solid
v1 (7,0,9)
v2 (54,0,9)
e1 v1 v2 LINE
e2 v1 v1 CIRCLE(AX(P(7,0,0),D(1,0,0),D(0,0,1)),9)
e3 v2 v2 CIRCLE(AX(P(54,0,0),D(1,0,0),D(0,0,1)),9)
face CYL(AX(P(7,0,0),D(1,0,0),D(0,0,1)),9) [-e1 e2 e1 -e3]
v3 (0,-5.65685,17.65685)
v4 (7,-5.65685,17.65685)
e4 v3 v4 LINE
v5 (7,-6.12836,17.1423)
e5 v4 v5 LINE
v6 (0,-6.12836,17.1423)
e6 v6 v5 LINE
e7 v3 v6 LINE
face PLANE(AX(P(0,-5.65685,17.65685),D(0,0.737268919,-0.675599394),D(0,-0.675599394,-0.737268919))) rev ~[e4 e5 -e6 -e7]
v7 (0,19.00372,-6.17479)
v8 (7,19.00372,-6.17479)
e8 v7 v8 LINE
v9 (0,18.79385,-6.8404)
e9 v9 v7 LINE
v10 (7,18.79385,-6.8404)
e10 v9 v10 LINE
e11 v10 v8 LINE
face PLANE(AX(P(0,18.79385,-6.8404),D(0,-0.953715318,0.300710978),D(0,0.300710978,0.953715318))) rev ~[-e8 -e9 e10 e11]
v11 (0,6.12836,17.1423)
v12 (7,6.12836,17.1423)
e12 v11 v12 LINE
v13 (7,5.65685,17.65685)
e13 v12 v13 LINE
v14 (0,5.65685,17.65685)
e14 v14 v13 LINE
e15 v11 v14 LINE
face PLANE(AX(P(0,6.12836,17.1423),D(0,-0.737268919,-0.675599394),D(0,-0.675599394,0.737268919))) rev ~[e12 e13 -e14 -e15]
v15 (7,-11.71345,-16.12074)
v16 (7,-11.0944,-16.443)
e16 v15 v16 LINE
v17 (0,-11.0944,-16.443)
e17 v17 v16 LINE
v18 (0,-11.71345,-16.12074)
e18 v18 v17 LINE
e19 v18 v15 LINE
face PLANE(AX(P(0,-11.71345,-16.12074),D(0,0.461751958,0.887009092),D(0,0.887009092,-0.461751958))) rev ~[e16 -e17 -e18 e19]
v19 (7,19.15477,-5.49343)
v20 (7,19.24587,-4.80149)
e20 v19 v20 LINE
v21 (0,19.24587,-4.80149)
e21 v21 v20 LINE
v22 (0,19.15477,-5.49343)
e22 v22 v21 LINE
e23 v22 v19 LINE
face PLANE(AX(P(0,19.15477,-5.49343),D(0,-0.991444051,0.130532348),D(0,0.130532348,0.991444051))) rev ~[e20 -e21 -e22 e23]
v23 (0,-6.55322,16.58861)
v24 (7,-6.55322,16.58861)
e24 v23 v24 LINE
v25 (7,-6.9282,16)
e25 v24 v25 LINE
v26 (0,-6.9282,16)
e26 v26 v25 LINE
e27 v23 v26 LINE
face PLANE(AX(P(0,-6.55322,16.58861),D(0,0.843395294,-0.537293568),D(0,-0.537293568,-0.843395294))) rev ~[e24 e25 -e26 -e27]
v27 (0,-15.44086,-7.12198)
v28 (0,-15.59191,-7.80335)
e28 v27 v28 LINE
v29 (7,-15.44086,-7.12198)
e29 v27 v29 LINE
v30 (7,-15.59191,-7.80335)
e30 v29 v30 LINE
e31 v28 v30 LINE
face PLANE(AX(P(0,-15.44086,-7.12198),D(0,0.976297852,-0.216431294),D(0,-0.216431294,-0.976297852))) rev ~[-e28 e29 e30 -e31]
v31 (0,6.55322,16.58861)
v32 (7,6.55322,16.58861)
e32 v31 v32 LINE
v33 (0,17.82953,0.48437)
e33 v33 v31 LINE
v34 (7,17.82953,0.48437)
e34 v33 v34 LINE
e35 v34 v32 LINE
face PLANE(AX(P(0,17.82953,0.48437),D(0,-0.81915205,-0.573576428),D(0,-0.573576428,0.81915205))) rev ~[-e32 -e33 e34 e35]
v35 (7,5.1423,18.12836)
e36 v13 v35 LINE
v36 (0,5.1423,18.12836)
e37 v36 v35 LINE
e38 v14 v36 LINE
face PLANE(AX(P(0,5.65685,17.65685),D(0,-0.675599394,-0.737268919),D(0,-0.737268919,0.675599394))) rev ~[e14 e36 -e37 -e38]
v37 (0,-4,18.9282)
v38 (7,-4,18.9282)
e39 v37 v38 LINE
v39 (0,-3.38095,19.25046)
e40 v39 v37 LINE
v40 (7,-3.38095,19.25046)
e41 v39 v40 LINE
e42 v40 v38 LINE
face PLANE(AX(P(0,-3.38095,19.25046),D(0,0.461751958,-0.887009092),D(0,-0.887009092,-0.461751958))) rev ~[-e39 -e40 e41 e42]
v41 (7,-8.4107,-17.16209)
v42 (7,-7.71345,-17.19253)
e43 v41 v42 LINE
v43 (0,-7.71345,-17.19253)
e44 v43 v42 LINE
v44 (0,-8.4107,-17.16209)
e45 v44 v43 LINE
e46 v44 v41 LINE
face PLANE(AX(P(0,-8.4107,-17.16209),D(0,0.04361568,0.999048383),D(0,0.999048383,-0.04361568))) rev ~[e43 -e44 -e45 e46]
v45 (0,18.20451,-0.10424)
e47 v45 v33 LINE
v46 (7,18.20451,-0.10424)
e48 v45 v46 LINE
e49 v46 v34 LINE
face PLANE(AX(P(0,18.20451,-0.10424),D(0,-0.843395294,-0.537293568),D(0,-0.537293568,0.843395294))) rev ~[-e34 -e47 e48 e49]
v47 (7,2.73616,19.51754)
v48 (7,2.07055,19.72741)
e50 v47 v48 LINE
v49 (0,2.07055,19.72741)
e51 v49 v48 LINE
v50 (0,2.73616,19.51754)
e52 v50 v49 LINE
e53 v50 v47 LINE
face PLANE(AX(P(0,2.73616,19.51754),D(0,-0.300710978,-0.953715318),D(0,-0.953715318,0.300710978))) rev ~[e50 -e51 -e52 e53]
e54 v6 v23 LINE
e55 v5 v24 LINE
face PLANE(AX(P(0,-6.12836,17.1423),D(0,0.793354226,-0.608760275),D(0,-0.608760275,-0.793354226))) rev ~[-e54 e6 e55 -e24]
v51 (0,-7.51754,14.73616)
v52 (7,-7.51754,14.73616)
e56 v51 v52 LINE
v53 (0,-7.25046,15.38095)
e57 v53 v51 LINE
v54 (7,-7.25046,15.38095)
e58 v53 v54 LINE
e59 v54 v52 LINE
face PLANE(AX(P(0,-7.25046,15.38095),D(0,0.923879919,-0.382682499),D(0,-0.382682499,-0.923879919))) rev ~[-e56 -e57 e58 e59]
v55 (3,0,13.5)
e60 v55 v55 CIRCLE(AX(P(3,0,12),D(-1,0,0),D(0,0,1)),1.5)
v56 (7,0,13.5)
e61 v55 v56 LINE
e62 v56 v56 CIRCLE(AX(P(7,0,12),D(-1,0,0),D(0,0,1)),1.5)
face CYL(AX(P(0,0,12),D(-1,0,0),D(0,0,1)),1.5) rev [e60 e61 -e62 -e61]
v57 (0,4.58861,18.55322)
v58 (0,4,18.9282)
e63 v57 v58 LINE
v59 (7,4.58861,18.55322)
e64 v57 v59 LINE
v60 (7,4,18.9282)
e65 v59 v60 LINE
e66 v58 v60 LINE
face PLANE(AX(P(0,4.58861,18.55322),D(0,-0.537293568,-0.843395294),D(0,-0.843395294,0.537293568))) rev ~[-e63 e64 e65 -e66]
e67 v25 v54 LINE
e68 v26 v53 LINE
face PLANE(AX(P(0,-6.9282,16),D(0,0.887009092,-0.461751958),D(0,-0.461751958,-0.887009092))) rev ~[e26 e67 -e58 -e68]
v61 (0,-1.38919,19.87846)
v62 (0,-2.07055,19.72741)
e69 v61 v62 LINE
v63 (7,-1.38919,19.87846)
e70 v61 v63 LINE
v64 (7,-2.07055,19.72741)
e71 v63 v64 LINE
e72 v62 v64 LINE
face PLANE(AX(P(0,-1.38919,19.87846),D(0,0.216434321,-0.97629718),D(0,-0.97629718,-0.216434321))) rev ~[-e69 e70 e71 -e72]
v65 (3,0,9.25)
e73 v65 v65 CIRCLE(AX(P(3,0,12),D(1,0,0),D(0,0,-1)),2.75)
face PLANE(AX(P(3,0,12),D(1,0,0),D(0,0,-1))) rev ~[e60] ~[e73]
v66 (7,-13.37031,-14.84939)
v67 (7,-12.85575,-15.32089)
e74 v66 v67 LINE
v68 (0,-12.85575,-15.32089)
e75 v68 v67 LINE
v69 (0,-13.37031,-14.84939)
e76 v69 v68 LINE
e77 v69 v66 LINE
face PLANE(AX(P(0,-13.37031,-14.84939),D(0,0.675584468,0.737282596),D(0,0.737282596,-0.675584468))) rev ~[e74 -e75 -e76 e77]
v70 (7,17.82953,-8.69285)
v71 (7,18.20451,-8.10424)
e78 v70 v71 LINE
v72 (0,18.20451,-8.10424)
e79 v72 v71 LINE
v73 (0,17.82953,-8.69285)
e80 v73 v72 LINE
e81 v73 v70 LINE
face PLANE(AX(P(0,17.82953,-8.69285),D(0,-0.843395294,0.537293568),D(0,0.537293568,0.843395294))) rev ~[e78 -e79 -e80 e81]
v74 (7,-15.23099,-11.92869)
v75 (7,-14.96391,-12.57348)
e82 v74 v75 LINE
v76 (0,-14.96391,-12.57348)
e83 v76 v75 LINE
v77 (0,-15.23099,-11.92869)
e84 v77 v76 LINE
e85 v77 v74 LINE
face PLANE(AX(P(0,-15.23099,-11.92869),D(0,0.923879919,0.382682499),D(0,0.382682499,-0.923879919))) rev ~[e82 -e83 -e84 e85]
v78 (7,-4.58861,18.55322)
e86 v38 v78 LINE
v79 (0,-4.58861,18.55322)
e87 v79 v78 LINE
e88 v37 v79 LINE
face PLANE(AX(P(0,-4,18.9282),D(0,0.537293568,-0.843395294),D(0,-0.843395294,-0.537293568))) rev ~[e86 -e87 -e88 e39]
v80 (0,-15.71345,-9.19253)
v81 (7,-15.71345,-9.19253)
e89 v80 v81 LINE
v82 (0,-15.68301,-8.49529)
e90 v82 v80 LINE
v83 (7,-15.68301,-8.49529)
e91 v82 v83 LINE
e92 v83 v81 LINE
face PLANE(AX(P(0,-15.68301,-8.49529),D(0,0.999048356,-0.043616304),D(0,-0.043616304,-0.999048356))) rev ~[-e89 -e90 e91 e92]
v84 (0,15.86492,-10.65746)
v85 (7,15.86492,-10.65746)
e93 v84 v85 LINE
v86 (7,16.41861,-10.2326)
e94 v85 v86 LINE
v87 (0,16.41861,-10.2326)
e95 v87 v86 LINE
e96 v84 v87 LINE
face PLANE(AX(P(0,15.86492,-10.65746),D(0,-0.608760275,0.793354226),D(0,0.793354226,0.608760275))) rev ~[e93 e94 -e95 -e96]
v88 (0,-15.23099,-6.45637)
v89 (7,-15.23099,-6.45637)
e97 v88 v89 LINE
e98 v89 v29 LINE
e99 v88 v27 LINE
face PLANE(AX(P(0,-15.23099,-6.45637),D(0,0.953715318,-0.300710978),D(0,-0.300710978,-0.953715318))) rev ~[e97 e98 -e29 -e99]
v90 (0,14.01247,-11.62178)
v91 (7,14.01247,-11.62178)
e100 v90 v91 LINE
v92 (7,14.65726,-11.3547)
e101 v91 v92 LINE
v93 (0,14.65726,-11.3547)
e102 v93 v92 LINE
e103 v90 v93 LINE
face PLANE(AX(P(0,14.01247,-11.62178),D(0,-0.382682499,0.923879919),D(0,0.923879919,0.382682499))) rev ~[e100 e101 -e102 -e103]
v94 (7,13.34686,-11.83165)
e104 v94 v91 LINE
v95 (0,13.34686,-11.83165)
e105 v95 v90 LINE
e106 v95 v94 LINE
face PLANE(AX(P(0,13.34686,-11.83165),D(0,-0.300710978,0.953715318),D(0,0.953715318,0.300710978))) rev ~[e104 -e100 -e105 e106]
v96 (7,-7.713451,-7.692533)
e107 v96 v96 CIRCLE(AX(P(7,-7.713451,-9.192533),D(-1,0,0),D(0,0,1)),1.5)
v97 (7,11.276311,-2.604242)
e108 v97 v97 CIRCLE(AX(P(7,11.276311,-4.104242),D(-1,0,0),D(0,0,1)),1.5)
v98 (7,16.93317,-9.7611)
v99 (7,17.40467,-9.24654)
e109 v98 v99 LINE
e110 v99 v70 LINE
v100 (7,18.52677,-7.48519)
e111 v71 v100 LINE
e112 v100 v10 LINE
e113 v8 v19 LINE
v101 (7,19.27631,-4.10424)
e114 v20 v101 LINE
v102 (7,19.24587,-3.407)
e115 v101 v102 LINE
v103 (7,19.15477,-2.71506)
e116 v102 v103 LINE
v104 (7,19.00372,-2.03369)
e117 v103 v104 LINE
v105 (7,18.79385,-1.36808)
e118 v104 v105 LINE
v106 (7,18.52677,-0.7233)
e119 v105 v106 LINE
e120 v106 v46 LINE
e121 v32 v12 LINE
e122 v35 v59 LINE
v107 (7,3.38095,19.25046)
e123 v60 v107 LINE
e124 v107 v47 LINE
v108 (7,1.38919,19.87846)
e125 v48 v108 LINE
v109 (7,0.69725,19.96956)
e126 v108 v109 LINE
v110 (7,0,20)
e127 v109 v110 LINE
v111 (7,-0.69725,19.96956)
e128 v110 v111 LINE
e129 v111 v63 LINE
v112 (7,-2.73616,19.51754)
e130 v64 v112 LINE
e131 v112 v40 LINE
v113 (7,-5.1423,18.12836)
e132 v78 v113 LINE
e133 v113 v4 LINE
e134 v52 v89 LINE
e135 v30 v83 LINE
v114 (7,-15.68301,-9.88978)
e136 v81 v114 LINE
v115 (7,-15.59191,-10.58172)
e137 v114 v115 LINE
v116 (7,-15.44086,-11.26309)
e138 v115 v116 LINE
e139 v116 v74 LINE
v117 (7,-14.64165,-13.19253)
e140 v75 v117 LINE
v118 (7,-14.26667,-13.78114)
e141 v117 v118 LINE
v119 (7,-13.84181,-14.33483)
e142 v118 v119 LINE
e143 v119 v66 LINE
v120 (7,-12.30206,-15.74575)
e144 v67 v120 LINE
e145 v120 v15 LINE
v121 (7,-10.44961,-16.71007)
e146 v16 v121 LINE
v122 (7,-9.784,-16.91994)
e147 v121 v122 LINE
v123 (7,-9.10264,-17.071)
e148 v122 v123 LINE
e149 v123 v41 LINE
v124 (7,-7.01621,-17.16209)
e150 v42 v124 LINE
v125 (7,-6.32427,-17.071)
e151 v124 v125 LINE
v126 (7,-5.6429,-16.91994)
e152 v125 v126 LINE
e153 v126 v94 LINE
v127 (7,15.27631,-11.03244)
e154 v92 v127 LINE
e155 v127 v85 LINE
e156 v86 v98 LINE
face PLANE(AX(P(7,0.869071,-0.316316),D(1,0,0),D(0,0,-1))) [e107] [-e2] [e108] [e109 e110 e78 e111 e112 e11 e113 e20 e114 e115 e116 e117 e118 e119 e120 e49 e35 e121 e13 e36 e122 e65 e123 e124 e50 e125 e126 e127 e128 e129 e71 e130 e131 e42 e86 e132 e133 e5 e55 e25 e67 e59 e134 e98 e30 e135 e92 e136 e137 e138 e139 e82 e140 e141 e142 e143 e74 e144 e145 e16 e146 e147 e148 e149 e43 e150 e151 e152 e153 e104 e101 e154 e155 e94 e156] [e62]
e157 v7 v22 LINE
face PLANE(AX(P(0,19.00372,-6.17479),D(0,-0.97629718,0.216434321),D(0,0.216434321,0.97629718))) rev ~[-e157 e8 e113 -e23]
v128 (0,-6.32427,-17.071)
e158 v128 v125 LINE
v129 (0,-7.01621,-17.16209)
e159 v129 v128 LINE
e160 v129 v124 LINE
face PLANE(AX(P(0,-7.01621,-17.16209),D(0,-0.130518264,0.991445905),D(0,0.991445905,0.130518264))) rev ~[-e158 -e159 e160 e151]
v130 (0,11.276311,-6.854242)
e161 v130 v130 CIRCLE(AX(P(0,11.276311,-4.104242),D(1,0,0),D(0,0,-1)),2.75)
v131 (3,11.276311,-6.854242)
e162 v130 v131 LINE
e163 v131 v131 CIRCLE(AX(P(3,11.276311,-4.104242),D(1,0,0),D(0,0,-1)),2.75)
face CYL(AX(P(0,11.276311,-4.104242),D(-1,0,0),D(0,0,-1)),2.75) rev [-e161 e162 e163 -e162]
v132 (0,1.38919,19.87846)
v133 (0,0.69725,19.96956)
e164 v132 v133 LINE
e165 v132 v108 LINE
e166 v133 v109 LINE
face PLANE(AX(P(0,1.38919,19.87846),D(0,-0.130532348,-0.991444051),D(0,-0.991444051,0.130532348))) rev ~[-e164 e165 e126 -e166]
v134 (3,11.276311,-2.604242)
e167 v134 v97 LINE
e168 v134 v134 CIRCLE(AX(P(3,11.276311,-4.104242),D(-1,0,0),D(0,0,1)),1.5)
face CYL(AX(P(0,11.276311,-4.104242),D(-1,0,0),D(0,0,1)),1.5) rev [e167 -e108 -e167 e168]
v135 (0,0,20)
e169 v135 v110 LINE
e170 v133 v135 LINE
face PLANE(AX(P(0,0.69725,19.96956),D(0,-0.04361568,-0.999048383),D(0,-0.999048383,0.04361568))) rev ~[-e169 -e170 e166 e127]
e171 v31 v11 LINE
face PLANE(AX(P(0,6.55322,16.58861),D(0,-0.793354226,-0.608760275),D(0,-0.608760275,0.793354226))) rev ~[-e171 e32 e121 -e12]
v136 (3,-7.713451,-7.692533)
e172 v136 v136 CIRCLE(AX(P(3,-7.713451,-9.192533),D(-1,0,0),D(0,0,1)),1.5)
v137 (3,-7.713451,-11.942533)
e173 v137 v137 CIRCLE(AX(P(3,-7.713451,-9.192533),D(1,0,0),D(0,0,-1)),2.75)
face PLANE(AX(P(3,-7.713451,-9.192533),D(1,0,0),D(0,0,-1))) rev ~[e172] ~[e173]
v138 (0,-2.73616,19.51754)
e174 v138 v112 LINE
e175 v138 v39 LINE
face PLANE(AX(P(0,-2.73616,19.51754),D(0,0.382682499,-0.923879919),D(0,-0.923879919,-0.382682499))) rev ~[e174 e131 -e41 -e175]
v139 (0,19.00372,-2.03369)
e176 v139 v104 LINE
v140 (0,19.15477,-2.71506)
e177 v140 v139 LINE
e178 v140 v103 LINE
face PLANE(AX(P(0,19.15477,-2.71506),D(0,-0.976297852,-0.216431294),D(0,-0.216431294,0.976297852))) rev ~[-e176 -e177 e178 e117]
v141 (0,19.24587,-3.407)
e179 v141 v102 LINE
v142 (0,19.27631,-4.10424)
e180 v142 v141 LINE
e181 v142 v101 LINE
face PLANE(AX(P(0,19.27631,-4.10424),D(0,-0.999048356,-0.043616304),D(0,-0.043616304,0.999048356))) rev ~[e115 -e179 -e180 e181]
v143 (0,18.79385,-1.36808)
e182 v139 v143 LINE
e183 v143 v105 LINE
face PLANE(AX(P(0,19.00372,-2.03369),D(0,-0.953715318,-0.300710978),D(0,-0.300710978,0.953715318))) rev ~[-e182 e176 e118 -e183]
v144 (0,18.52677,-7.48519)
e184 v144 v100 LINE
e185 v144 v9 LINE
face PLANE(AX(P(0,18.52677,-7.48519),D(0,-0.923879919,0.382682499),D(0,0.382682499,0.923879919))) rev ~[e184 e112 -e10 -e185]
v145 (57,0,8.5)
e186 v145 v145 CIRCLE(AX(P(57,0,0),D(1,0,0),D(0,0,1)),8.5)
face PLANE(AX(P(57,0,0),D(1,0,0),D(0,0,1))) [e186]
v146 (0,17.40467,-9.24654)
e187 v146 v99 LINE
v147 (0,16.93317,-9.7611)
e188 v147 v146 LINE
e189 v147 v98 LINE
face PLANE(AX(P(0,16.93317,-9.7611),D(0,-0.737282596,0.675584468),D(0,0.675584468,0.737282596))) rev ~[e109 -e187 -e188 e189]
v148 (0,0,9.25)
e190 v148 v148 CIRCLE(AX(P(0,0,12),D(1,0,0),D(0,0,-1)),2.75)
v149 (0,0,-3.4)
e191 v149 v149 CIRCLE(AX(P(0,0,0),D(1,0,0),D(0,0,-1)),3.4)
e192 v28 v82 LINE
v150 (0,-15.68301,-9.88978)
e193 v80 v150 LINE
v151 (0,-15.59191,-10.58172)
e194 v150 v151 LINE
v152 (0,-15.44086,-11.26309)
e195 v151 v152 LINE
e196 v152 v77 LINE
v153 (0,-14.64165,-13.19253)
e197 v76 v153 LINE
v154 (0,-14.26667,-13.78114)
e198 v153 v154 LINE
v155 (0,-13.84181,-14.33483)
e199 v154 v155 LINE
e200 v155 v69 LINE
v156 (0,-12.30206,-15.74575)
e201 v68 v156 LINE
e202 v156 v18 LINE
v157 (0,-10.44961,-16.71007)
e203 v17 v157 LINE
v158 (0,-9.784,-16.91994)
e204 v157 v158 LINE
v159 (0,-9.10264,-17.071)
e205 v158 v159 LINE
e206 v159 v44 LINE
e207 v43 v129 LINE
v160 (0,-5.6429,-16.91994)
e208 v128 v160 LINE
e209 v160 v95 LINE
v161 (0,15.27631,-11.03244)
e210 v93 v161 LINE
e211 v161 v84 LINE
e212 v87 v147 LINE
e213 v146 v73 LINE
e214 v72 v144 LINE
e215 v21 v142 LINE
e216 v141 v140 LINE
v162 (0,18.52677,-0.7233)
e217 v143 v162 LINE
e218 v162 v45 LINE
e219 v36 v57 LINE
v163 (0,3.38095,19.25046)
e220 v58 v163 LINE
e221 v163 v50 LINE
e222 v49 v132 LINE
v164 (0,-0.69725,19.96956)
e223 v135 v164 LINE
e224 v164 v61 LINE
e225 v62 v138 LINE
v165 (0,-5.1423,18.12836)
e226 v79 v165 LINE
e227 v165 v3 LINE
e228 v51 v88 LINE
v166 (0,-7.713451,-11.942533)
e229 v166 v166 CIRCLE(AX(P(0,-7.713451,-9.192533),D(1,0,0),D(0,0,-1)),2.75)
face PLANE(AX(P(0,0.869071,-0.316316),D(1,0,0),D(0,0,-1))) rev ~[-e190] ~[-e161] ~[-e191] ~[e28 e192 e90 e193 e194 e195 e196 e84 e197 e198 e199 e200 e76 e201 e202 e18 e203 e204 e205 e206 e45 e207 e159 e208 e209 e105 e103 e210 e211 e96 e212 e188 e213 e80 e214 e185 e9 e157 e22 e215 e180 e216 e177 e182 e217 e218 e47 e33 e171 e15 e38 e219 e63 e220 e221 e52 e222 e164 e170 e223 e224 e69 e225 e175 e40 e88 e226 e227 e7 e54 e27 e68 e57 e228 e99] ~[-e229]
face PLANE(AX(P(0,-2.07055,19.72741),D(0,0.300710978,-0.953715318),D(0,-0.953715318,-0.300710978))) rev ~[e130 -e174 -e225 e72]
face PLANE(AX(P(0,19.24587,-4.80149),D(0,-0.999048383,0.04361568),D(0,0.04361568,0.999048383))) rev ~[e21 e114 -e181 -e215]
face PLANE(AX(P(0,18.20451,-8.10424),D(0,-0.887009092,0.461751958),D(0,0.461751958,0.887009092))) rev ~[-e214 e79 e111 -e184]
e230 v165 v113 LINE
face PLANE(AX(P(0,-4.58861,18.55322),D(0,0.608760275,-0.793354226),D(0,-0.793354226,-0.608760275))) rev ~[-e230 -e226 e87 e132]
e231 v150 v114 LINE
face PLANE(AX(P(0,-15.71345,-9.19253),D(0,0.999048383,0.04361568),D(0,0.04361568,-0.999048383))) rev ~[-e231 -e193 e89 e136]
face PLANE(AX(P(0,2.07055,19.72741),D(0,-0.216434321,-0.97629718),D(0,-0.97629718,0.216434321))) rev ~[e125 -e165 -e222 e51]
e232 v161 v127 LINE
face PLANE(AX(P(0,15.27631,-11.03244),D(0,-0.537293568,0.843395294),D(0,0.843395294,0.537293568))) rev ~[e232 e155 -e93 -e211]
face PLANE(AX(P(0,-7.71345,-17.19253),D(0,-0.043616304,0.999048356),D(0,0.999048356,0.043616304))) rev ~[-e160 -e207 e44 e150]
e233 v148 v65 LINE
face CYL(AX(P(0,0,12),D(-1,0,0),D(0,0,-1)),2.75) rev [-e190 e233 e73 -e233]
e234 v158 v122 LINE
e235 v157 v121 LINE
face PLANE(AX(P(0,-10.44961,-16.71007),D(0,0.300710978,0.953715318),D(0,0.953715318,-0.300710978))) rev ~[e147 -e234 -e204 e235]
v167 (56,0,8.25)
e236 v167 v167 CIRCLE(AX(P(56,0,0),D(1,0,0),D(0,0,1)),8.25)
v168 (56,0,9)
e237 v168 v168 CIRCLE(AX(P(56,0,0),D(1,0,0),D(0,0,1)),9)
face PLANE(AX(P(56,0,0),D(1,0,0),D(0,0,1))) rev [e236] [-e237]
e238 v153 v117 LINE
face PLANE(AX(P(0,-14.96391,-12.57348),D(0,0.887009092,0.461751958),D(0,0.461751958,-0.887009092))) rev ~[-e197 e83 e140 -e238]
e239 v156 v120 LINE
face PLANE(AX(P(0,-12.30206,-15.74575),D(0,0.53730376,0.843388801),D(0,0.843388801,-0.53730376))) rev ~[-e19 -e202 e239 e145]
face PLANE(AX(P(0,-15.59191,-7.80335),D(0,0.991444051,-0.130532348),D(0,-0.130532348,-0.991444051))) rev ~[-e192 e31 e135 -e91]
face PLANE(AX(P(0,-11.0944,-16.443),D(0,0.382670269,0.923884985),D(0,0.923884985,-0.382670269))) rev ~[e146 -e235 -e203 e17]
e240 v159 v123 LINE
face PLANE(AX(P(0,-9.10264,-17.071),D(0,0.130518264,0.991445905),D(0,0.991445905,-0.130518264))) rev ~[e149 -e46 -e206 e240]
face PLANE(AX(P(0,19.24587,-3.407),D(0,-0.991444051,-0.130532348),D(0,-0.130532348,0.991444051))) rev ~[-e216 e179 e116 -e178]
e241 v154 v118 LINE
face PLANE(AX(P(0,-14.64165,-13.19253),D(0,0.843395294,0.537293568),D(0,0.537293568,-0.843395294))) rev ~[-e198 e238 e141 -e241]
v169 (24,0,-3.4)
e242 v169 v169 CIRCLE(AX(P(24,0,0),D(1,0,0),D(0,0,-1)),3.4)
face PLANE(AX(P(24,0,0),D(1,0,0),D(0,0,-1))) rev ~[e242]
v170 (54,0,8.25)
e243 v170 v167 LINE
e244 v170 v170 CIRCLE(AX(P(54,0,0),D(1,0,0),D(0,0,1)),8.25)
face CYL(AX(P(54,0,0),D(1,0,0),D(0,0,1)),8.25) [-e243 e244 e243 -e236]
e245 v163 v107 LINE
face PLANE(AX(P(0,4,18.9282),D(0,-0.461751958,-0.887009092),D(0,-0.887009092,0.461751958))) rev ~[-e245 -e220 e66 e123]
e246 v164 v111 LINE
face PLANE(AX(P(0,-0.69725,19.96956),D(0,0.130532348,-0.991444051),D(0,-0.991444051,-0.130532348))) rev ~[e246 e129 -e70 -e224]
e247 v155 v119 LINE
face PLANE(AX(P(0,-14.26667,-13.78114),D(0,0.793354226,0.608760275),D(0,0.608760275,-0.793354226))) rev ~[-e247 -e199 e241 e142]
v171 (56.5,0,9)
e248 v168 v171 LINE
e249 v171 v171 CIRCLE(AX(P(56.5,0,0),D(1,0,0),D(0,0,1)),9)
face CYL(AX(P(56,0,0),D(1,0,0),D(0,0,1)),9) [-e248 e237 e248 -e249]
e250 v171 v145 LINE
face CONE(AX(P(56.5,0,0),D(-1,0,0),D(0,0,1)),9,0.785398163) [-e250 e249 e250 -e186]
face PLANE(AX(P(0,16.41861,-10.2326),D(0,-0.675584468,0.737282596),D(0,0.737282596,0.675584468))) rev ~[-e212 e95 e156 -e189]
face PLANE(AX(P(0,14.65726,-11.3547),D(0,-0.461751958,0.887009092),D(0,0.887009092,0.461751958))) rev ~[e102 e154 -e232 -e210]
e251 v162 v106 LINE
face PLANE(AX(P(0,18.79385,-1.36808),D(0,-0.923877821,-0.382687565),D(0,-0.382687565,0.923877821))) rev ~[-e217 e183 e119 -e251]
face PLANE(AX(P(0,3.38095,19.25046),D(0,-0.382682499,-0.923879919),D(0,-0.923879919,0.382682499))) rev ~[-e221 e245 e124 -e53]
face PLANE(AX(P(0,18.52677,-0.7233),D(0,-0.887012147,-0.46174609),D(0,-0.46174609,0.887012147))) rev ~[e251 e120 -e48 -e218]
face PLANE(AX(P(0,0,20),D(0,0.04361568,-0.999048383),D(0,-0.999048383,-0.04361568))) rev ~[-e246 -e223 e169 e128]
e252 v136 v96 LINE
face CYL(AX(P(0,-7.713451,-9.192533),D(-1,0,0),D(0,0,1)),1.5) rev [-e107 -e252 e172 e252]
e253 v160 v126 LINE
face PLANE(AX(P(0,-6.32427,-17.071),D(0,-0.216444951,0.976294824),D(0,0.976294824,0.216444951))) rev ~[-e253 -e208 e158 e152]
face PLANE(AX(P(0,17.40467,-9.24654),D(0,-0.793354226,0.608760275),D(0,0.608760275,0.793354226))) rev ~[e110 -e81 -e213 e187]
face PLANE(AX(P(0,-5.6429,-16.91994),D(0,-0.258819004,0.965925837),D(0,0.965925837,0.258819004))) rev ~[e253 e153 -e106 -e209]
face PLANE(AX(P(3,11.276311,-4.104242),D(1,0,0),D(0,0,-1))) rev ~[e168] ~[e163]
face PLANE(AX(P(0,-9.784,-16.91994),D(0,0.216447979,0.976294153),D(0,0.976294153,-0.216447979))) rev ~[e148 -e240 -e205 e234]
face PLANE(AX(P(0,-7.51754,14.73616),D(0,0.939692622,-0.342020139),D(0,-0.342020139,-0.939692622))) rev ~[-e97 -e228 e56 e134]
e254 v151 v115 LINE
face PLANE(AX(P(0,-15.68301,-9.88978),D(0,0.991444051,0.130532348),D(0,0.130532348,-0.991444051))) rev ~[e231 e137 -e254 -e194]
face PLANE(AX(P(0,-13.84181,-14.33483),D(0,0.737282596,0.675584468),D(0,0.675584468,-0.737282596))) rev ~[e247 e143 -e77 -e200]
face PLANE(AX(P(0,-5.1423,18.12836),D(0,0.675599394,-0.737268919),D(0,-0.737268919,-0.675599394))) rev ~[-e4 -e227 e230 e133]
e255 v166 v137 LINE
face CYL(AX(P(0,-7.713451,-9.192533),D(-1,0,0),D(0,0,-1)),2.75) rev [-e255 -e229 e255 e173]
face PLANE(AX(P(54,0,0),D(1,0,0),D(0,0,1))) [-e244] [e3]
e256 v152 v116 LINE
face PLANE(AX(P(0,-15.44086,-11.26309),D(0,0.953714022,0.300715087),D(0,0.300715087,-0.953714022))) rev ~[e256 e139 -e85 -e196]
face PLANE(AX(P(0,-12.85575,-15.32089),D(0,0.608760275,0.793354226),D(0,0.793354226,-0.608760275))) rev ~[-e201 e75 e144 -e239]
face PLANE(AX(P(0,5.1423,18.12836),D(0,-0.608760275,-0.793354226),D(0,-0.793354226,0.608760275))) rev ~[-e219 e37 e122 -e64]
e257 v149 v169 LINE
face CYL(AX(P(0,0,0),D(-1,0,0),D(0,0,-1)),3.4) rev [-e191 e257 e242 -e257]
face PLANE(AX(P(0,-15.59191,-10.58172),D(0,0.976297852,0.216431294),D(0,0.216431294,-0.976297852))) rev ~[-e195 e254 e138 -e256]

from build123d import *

# Parameters (mm, degrees)
F_02_HEAD_DEPTH        = 7
SKETCH_3_R             = 1.5
F_03_SCREW_HOLES_DEPTH = 64.408013115
SKETCH_4_R             = 2.75
F_04_CBORE_DEPTH       = 3
SKETCH_5_R             = 3.4
F_05_M8_TAP_DEPTH      = 24


with BuildPart() as part:
    # 草图1 → 旋转1 (revolve)
    with BuildSketch(Plane.XY, mode=Mode.PRIVATE) as revolve_1_sk:
        Polygon((7, 0), (7, 9), (54, 9), (54, 8.25), (56, 8.25), (56, 9), (56.5, 9), (57, 8.5), (57, 0), align=None)
    revolve(revolve_1_sk.sketch.rotate(Axis((2, 0, 0), (1, 0, 0)), 90), axis=Axis((2, 0, 0), (1, 0, 0)))

    # 草图2 → 02_HEAD (add)
    with BuildSketch(Plane(origin=(0, 0, 0), x_dir=(0, 0, -1), z_dir=(1, 0, 0))):
        Polygon((-20, 0), (-19.96956, -0.69725), (-19.87846, -1.38919), (-19.72741, -2.07055), (-19.51754, -2.73616), (-19.25046, -3.38095), (-18.9282, -4), (-18.55322, -4.58861), (-18.12836, -5.1423), (-17.65685, -5.65685), (-17.1423, -6.12836), (-16.58861, -6.55322), (-16, -6.9282), (-15.38095, -7.25046), (-14.73616, -7.51754), (6.45637, -15.23099), (7.12198, -15.44086), (7.80335, -15.59191), (8.49529, -15.68301), (9.19253, -15.71345), (9.88978, -15.68301), (10.58172, -15.59191), (11.26309, -15.44086), (11.92869, -15.23099), (12.57348, -14.96391), (13.19253, -14.64165), (13.78114, -14.26667), (14.33483, -13.84181), (14.84939, -13.37031), (15.32089, -12.85575), (15.74575, -12.30206), (16.12074, -11.71345), (16.443, -11.0944), (16.71007, -10.44961), (16.91994, -9.784), (17.071, -9.10264), (17.16209, -8.4107), (17.19253, -7.71345), (17.16209, -7.01621), (17.071, -6.32427), (16.91994, -5.6429), (11.83165, 13.34686), (11.62178, 14.01247), (11.3547, 14.65726), (11.03244, 15.27631), (10.65746, 15.86492), (10.2326, 16.41861), (9.7611, 16.93317), (9.24654, 17.40467), (8.69285, 17.82953), (8.10424, 18.20451), (7.48519, 18.52677), (6.8404, 18.79385), (6.17479, 19.00372), (5.49343, 19.15477), (4.80149, 19.24587), (4.10424, 19.27631), (3.407, 19.24587), (2.71506, 19.15477), (2.03369, 19.00372), (1.36808, 18.79385), (0.7233, 18.52677), (0.10424, 18.20451), (-0.48437, 17.82953), (-16.58861, 6.55322), (-17.1423, 6.12836), (-17.65685, 5.65685), (-18.12836, 5.1423), (-18.55322, 4.58861), (-18.9282, 4), (-19.25046, 3.38095), (-19.51754, 2.73616), (-19.72741, 2.07055), (-19.87846, 1.38919), (-19.96956, 0.69725), align=None)
    extrude(amount=F_02_HEAD_DEPTH)

    # 草图3 → 03_SCREW_HOLES (cut, through all)
    with BuildSketch(Plane(origin=(0, 0, 0), x_dir=(0, 0, -1), z_dir=(1, 0, 0))):
        with Locations(Location((-12, 0, 0), (0, 0, 180))):
            Circle(SKETCH_3_R)
        with Locations(Location((4.10424172, 11.276311449, 0), (0, 0, 180))):
            Circle(SKETCH_3_R)
        with Locations(Location((9.192533317, -7.713451316, 0), (0, 0, 180))):
            Circle(SKETCH_3_R)
    extrude(amount=F_03_SCREW_HOLES_DEPTH, mode=Mode.SUBTRACT)

    # 草图4 → 04_CBORE (cut)
    with BuildSketch(Plane(origin=(0, 0, 0), x_dir=(0, 0, -1), z_dir=(1, 0, 0))):
        with Locations((-12, 0)):
            Circle(SKETCH_4_R)
        with Locations((4.10424172, 11.276311449)):
            Circle(SKETCH_4_R)
        with Locations((9.192533317, -7.713451316)):
            Circle(SKETCH_4_R)
    extrude(amount=F_04_CBORE_DEPTH, mode=Mode.SUBTRACT)

    # 草图5 → 05_M8_TAP (cut)
    with BuildSketch(Plane(origin=(0, 0, 0), x_dir=(0, 0, -1), z_dir=(1, 0, 0))):
        Circle(SKETCH_5_R)
    extrude(amount=F_05_M8_TAP_DEPTH, mode=Mode.SUBTRACT)


solid = part.part
